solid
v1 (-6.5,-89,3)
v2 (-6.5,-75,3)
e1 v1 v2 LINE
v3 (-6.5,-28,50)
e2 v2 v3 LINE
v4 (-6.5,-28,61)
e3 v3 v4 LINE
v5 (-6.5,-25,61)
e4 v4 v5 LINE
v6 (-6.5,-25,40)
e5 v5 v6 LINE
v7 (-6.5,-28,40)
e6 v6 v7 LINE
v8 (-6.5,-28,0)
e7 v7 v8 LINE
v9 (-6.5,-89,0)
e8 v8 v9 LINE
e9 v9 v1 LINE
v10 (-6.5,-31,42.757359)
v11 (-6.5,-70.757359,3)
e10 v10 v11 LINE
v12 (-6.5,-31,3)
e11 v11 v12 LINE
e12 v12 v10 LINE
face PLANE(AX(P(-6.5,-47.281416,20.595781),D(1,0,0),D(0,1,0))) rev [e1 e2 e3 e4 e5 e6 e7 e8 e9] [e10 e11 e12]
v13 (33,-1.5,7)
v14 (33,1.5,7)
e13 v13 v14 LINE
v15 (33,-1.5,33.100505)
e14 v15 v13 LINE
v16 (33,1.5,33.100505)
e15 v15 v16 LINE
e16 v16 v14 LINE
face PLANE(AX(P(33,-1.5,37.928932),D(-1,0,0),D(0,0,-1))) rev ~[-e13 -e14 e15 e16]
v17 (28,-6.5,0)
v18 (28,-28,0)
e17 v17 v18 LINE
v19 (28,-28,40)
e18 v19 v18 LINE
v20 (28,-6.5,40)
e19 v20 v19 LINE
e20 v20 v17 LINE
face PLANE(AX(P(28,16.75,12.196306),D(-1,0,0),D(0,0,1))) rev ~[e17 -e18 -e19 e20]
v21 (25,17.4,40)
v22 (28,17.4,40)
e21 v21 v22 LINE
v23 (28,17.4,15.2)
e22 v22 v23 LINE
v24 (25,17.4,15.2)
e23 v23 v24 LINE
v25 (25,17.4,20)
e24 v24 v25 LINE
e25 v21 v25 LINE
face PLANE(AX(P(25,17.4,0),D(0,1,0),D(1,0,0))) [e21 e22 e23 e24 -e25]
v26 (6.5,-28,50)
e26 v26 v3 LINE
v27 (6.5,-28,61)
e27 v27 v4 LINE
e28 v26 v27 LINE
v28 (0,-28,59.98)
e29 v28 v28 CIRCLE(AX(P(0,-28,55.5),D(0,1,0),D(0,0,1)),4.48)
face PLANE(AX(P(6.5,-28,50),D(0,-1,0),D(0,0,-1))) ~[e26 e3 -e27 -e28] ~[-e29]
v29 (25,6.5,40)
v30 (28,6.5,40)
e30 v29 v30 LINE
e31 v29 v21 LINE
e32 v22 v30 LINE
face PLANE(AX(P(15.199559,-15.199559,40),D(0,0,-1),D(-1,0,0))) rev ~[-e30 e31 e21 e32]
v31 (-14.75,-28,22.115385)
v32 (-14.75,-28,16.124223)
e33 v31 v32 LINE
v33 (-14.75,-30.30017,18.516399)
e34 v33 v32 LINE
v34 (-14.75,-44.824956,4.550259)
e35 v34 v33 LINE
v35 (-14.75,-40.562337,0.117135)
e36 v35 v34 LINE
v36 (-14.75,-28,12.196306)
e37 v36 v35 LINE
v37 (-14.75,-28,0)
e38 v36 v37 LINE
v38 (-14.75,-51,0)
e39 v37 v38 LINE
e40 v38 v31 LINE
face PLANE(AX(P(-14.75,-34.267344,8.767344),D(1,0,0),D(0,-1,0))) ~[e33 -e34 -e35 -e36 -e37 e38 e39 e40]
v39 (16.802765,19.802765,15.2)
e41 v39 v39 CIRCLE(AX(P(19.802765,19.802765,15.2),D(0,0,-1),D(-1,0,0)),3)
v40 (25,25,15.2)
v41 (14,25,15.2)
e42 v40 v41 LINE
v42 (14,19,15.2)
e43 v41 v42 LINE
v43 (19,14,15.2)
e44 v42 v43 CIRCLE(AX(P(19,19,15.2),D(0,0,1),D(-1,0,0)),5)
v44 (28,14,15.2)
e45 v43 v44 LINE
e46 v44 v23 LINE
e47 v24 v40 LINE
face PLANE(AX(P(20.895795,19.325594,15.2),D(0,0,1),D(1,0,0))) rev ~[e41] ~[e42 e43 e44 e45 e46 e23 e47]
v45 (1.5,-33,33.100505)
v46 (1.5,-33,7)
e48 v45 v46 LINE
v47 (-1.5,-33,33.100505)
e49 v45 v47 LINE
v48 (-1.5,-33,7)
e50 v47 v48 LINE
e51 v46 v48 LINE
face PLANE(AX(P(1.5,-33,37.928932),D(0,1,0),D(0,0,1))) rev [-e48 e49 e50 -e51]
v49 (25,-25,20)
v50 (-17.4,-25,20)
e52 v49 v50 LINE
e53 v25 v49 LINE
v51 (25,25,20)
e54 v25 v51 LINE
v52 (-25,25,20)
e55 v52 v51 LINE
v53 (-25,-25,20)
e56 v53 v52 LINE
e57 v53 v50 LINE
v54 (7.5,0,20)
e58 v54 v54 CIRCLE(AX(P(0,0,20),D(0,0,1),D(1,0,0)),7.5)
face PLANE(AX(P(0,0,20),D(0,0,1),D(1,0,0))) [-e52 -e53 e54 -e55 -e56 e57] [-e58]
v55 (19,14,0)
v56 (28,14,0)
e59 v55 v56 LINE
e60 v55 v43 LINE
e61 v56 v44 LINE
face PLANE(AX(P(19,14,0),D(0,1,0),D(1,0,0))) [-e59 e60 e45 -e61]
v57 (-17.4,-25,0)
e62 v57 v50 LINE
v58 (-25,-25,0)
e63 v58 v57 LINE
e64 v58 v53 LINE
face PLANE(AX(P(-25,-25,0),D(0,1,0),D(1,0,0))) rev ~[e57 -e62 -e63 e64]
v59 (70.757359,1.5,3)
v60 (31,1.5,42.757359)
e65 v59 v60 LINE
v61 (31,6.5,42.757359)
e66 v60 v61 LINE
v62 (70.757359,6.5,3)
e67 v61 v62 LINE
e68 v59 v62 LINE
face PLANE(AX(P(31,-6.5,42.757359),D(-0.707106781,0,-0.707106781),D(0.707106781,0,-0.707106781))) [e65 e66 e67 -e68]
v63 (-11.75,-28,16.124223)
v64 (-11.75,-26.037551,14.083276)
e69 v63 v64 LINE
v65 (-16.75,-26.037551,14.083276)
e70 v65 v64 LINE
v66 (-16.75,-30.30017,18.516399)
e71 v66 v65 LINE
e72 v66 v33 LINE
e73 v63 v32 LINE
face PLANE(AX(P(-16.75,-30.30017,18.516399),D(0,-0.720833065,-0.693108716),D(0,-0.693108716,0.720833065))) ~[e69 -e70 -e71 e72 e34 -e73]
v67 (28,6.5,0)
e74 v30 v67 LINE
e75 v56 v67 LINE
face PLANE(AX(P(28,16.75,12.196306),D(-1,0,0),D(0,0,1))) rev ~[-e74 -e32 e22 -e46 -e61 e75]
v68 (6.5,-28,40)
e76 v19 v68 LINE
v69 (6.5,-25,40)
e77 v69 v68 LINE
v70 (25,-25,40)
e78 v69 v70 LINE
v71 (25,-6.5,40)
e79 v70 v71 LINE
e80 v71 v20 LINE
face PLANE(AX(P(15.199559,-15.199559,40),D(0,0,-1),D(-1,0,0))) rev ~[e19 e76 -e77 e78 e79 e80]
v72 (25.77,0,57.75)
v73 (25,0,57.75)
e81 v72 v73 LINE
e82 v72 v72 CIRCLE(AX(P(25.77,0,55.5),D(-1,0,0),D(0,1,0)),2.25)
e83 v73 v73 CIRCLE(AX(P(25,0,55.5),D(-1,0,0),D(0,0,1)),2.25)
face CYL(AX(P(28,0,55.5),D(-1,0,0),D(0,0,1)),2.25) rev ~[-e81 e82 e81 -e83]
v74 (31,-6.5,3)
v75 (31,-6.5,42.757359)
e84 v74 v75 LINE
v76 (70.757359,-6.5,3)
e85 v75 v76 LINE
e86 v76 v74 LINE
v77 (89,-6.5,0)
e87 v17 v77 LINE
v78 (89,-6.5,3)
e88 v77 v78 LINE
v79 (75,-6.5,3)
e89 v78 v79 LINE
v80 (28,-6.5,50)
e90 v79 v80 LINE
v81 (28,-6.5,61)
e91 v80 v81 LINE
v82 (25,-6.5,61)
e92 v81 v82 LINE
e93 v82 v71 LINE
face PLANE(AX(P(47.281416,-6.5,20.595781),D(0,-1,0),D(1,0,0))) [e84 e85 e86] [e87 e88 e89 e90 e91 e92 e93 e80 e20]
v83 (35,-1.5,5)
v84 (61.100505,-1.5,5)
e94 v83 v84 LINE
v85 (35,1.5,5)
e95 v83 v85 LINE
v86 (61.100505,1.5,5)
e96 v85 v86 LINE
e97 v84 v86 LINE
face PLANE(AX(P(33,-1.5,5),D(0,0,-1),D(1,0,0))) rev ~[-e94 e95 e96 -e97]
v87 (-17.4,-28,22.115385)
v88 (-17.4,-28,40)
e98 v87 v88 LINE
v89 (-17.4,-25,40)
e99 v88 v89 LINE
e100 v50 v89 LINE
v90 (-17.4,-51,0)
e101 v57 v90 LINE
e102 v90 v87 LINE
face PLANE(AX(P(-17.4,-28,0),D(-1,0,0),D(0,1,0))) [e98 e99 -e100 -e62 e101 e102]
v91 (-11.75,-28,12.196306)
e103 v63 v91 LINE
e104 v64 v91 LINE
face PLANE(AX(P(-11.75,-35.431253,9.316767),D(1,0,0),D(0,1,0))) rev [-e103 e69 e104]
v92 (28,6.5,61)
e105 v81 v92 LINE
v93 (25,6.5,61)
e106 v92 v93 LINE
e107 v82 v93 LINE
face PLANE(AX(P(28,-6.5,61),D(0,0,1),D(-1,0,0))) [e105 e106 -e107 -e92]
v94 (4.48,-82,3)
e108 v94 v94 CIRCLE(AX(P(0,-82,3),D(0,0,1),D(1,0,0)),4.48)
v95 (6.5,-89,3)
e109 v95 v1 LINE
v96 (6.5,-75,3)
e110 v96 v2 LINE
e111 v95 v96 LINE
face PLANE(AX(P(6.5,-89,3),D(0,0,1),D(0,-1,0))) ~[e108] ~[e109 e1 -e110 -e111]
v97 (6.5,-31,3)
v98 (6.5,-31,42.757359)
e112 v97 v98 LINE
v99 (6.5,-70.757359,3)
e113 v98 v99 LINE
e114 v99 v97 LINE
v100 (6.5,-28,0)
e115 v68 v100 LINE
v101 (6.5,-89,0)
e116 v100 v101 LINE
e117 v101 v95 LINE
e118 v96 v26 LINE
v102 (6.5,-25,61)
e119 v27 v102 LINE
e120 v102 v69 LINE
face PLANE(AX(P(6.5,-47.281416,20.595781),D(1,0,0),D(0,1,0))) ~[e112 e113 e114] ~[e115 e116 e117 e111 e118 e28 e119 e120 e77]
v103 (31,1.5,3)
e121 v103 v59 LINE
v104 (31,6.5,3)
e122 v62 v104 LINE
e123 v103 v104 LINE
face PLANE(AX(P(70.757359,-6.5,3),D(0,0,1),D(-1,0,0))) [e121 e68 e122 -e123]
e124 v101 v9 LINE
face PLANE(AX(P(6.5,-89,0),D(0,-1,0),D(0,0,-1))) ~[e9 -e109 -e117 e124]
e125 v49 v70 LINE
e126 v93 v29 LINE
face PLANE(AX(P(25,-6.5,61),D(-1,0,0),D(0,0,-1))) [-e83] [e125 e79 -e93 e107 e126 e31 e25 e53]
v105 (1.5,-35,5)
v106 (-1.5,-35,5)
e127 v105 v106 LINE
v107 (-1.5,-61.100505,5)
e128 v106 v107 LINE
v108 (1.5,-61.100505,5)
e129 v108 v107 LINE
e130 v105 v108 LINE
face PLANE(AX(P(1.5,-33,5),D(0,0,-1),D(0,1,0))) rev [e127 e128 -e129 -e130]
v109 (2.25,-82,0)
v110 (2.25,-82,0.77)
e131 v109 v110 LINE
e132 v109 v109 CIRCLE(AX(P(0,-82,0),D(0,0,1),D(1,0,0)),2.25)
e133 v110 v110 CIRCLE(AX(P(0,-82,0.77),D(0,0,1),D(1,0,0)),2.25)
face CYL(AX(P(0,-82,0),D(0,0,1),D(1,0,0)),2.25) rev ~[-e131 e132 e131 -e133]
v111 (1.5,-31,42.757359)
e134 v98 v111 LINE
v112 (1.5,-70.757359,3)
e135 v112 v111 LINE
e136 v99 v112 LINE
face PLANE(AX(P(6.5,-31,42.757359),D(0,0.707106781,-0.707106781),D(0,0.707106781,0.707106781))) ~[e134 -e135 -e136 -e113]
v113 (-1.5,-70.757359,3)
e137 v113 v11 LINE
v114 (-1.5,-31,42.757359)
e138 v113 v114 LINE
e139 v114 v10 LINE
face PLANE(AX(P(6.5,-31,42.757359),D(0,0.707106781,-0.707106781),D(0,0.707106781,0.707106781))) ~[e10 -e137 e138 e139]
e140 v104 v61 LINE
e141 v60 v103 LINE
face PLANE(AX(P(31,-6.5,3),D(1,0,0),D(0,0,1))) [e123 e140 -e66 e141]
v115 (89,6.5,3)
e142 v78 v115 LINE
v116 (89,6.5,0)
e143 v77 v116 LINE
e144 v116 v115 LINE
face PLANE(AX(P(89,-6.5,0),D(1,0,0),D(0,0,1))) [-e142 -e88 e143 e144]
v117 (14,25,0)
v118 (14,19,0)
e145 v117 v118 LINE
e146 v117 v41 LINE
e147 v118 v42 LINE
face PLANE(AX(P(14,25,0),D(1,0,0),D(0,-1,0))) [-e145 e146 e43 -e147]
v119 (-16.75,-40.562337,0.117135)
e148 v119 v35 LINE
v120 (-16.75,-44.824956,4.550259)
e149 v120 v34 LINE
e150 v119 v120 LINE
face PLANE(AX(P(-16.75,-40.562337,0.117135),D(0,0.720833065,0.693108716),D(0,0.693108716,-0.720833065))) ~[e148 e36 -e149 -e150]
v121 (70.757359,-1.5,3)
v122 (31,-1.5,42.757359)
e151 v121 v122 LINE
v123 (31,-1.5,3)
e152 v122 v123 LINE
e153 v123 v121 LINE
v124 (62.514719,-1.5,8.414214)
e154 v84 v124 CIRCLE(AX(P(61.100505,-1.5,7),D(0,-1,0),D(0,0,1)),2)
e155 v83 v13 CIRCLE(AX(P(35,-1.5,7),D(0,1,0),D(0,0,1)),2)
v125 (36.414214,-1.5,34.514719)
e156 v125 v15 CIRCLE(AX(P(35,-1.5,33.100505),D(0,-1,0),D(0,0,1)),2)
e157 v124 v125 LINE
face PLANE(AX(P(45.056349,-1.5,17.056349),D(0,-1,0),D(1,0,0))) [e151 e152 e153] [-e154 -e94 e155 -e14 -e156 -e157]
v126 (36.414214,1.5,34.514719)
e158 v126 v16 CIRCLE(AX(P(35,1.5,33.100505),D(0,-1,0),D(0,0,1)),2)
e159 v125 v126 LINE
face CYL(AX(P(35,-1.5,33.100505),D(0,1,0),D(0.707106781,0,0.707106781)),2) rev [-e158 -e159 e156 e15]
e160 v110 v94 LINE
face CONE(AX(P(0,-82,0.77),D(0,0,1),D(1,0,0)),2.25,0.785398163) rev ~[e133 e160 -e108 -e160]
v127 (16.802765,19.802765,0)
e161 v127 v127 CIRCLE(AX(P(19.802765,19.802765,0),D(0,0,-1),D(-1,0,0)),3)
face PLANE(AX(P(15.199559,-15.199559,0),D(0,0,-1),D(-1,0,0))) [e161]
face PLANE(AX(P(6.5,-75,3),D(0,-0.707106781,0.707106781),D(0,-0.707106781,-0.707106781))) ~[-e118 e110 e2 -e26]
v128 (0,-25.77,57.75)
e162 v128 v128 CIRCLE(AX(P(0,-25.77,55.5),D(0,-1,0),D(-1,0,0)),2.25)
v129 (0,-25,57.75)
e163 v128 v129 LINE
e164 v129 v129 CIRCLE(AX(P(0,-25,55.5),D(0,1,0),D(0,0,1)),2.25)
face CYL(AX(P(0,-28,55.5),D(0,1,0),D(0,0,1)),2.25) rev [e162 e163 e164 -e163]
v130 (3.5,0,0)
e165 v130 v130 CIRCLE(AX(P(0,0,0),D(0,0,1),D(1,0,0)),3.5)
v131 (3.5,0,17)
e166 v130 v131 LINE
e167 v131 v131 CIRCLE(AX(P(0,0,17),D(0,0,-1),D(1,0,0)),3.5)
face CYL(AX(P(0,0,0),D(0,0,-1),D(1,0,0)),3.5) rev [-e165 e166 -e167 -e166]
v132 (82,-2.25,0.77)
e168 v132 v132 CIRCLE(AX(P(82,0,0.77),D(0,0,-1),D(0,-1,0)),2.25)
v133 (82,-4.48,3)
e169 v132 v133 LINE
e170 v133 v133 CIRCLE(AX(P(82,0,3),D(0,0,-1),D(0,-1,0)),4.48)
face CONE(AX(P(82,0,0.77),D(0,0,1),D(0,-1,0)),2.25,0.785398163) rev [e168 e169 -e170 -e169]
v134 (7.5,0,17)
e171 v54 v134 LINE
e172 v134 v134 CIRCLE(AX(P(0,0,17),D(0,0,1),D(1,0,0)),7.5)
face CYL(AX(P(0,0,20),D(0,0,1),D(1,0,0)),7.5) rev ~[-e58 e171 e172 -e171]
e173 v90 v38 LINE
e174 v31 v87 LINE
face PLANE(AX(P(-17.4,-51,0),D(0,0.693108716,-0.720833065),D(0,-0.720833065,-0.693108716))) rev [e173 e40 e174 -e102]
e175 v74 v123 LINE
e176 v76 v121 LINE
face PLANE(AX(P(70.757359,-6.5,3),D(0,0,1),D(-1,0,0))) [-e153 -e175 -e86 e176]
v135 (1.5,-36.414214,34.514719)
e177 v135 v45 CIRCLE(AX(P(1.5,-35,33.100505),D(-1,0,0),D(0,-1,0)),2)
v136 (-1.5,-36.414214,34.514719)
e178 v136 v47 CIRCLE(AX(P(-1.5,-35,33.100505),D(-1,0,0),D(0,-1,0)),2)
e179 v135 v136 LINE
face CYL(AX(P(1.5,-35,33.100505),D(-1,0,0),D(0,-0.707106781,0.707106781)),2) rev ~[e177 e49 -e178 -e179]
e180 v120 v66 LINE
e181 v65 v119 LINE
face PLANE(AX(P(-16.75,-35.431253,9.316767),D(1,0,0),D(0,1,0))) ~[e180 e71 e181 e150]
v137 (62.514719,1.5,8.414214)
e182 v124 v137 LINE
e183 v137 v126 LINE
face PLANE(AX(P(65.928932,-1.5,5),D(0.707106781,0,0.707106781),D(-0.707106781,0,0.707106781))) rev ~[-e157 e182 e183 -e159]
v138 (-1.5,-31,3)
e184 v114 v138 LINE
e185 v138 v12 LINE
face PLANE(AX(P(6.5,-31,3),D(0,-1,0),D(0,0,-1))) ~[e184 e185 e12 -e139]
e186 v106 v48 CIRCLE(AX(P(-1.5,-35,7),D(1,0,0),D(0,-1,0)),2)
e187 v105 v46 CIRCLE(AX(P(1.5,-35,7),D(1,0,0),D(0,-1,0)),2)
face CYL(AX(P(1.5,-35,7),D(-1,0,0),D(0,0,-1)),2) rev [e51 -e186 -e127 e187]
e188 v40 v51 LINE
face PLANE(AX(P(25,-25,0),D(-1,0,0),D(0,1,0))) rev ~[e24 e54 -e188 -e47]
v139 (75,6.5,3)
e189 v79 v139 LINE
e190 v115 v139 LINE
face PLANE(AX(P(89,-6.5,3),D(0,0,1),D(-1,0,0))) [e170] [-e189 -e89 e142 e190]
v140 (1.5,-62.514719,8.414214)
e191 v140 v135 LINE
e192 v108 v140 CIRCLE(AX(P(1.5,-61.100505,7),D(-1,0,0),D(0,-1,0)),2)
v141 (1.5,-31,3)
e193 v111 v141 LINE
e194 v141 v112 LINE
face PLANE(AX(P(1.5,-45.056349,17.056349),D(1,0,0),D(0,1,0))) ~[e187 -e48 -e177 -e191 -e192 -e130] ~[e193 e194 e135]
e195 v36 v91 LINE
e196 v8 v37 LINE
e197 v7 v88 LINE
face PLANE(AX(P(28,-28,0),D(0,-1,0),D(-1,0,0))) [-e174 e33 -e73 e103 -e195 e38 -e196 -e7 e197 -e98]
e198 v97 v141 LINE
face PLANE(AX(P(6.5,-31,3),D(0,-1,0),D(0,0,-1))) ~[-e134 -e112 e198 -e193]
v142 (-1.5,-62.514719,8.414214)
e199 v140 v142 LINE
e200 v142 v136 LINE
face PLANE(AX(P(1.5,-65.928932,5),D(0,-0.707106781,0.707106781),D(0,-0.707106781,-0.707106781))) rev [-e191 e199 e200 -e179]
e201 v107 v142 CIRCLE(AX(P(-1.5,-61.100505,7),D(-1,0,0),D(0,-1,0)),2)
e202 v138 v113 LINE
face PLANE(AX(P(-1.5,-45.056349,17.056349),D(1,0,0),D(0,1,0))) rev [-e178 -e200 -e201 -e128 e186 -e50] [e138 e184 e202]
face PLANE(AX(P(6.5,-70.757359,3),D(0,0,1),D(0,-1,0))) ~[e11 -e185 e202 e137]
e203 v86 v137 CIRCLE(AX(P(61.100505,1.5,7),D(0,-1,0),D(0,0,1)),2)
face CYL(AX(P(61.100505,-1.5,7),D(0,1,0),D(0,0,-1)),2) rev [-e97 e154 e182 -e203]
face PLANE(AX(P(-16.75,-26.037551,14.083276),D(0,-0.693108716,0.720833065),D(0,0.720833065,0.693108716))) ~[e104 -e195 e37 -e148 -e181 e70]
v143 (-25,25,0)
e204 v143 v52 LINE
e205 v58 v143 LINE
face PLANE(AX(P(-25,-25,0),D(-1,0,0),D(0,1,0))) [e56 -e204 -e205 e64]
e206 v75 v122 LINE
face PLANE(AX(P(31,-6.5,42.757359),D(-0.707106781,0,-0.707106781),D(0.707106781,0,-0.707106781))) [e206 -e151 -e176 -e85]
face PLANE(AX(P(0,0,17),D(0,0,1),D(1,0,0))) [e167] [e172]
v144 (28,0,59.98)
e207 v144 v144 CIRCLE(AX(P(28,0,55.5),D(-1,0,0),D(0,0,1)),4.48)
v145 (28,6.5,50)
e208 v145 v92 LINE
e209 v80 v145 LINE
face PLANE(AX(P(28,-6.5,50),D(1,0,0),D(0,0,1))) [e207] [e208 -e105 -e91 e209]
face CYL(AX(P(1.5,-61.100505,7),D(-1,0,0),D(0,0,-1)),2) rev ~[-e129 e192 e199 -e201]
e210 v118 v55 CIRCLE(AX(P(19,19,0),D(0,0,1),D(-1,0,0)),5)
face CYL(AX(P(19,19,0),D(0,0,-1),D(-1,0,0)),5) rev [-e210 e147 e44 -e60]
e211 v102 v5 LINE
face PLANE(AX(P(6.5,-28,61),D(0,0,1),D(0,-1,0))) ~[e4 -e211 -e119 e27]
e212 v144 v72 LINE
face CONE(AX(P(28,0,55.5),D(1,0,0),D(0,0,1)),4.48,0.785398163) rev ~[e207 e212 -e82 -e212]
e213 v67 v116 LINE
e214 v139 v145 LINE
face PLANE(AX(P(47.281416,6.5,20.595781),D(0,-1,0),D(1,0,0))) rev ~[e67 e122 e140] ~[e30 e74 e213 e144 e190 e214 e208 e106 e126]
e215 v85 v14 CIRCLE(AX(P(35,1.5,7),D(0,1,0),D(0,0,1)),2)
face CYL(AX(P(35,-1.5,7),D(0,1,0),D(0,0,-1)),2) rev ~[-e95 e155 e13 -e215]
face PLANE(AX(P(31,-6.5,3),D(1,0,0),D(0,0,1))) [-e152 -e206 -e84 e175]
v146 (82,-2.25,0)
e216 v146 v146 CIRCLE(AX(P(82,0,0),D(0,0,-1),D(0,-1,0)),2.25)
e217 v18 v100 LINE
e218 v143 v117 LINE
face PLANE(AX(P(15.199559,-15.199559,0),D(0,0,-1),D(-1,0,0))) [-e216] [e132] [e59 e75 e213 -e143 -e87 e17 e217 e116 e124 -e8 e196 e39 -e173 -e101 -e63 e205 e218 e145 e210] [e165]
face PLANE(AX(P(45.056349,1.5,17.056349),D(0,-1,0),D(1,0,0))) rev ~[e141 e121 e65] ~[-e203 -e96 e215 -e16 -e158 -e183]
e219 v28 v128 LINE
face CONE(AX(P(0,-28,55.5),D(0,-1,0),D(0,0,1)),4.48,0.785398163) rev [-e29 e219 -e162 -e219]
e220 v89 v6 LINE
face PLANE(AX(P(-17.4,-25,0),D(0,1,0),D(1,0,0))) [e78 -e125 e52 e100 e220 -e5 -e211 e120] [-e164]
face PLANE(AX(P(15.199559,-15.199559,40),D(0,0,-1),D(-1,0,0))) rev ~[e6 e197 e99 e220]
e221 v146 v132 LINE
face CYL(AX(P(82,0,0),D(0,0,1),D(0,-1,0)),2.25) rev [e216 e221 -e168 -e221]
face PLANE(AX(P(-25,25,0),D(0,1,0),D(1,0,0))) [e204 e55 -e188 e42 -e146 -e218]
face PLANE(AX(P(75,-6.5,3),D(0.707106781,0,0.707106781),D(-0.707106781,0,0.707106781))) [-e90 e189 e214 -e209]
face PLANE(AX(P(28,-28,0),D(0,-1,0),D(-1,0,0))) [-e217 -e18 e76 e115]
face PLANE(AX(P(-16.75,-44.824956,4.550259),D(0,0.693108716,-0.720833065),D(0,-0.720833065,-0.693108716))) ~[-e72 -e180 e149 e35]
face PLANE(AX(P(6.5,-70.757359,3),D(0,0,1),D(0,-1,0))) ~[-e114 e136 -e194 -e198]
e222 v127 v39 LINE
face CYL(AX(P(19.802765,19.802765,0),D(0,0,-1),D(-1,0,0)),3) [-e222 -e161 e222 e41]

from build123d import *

# Parameters (mm, degrees)
CROQUIS2_W                                           = 50
CROQUIS2_H                                           = 50
CROQUIS2_R                                           = 3.5
SALIENTE_EXTRUIR2_DEPTH                              = 20
CROQUIS3_R                                           = 7.5
CORTAR_EXTRUIR1_DEPTH                                = 3
SALIENTE_EXTRUIR3_DEPTH                              = 40
SALIENTE_EXTRUIR4_DEPTH                              = 2.65
CORTAR_EXTRUIR2_START                                = -2
CORTAR_EXTRUIR2_DEPTH                                = 5
CORTAR_EXTRUIR5_START                                = -2.65
CORTAR_EXTRUIR5_DEPTH                                = 2.65
SALIENTE_EXTRUIR5_DEPTH                              = 44.75
CROQUIS13_R                                          = 3
CORTAR_EXTRUIR6_DEPTH                                = 15.2
SALIENTE_EXTRUIR6_START                              = -21.5
SALIENTE_EXTRUIR6_DEPTH                              = 13
SALIENTE_EXTRUIR7_START                              = -5
SALIENTE_EXTRUIR7_DEPTH                              = 3
REDONDEO1_R                                          = 2
CROQUIS17_R                                          = 2
CORTAR_EXTRUIR7_DEPTH                                = 3
CROQUIS18_R                                          = 2
CORTAR_EXTRUIR8_DEPTH                                = 3
REFRENTADO_PARA_TORNILLO_TAP_N_CON_CABEZ_D           = 4.5
REFRENTADO_PARA_TORNILLO_TAP_N_CON_CABEZ_CSINK_D     = 8.96
REFRENTADO_PARA_TORNILLO_TAP_N_CON_CABEZ_CSINK_ANGLE = 90
REDONDEO1_OF_SIMETR_A3_R                             = 2


with BuildPart() as part:
    # Croquis2 → Saliente-Extruir2 (new body)
    with BuildSketch(Plane.XY):
        Rectangle(CROQUIS2_W, CROQUIS2_H)
        Circle(CROQUIS2_R, mode=Mode.SUBTRACT)
    extrude(amount=SALIENTE_EXTRUIR2_DEPTH)

    # Croquis3 → Cortar-Extruir1 (cut)
    with BuildSketch(Plane.XY.offset(20)):
        Circle(CROQUIS3_R)
    extrude(amount=-CORTAR_EXTRUIR1_DEPTH, mode=Mode.SUBTRACT)

    # Croquis4 → Saliente-Extruir3 (add)
    with BuildSketch(Plane(origin=(0, 0, 0), x_dir=(-1, 0, 0), z_dir=(0, 0, -1))):
        Polygon((-25, -25), (-25, 17.4), (-28, 17.4), (-28, -28), (17.4, -28), (17.4, -25), align=None)
    extrude(amount=-SALIENTE_EXTRUIR3_DEPTH)

    # Croquis5 → Saliente-Extruir4 (add)
    with BuildSketch(Plane(origin=(0, 17.4, 0), x_dir=(1, 0, 0), z_dir=(0, 1, 0))):
        Polygon((25, 0), (51, 0), (25, -25), align=None)
    saliente_extruir4 = extrude(amount=-SALIENTE_EXTRUIR4_DEPTH)

    # Croquis6 → Cortar-Extruir2 (cut)
    with BuildSketch(Plane.XZ.offset(-14.75).offset(CORTAR_EXTRUIR2_START)):
        Polygon((44.824955825, 4.550258722), (30.300169567, 18.516399355), (26.037550962, 14.083276006), (40.56233722, 0.117135373), align=None)
    cortar_extruir2 = extrude(amount=CORTAR_EXTRUIR2_DEPTH, mode=Mode.SUBTRACT)

    # Simetría2: Saliente-Extruir4, Cortar-Extruir2 across plane
    add(saliente_extruir4.mirror(Plane(origin=(0, 0, 0), x_dir=(0, 0, 1), z_dir=(0.707106781, 0.707106781, 0))))
    add(cortar_extruir2.mirror(Plane(origin=(0, 0, 0), x_dir=(0, 0, 1), z_dir=(0.707106781, 0.707106781, 0))), mode=Mode.SUBTRACT)

    # Croquis11 → Cortar-Extruir5 (cut)
    with BuildSketch(Plane.XZ.offset(-14.75).offset(CORTAR_EXTRUIR5_START)):
        Polygon((28, 0), (51, 0), (28, 22.115384615), align=None)
    extrude(amount=CORTAR_EXTRUIR5_DEPTH, mode=Mode.SUBTRACT)

    # Croquis14 → Saliente-Extruir5 (add)
    with BuildSketch(Plane.XZ.offset(-16.75)):
        Polygon((26.037550962, 14.083276006), (28, 12.196305777), (28, 16.124223005), align=None)
    extrude(amount=SALIENTE_EXTRUIR5_DEPTH)

    # Croquis13 → Cortar-Extruir6 (cut)
    with BuildSketch(Plane(origin=(0, 0, 0), x_dir=(-1, 0, 0), z_dir=(0, 0, -1))):
        with BuildLine():
            Line((-25, 25), (-14, 25))
            Line((-14, 25), (-14, 19))
            ThreePointArc((-14, 19), (-15.464466094, 15.464466094), (-19, 14))
            Line((-19, 14), (-25, 14))
            Line((-25, 14), (-28, 14))
            Line((-28, 14), (-28, 17.4))
            Line((-28, 17.4), (-25, 17.4))
            Line((-25, 17.4), (-25, 25))
        make_face()
        with Locations((-19.802765158, 19.802765158)):
            Circle(CROQUIS13_R, mode=Mode.SUBTRACT)
    extrude(amount=-CORTAR_EXTRUIR6_DEPTH, mode=Mode.SUBTRACT)

    # Croquis15 → Saliente-Extruir6 (add)
    with BuildSketch(Plane.XZ.offset(28).offset(SALIENTE_EXTRUIR6_START)):
        Polygon((28, 0), (78, 0), (89, 0), (89, 3), (75, 3), (28, 50), (28, 61), (25, 61), (25, 40), (28, 40), align=None)
        Polygon((31, 42.757359313), (70.757359313, 3), (31, 3), align=None, mode=Mode.SUBTRACT)
    saliente_extruir6 = extrude(amount=-SALIENTE_EXTRUIR6_DEPTH)

    # Croquis16 → Saliente-Extruir7 (add)
    with BuildSketch(Plane.XZ.offset(6.5).offset(SALIENTE_EXTRUIR7_START)):
        Polygon((31, 3), (70.757359313, 3), (31, 42.757359313), align=None)
        Polygon((33, 5), (65.928932188, 5), (33, 37.928932188), align=None, mode=Mode.SUBTRACT)
    saliente_extruir7 = extrude(amount=-SALIENTE_EXTRUIR7_DEPTH)

    # Redondeo1
    redondeo1_edges = [part.edges().sort_by_distance(p)[0] for p in [
        (33, 0, 37.928932188),
        (65.928932188, 0, 5),
        (33, 0, 5),
    ]]
    fillet(redondeo1_edges, radius=REDONDEO1_R)

    # Croquis17 → Cortar-Extruir7 (cut)
    with BuildSketch(Plane.XY.offset(3)):
        with Locations((82, 0)):
            Circle(CROQUIS17_R)
    cortar_extruir7 = extrude(amount=-CORTAR_EXTRUIR7_DEPTH, mode=Mode.SUBTRACT)

    # Croquis18 → Cortar-Extruir8 (cut)
    with BuildSketch(Plane(origin=(28, 0, 0), x_dir=(0, 0, -1), z_dir=(1, 0, 0))):
        with Locations((-55.5, 0)):
            Circle(CROQUIS18_R)
    cortar_extruir8 = extrude(amount=-CORTAR_EXTRUIR8_DEPTH, mode=Mode.SUBTRACT)

    # Refrentado para tornillo tap_n con cabez (through all)
    with Locations(Plane(origin=(28, 0, 0), x_dir=(0, 0, -1), z_dir=(1, 0, 0))):
        with Locations((-55.5, 0)):
            refrentado_para_tornillo_tap_n_con_cabez = CounterSinkHole(REFRENTADO_PARA_TORNILLO_TAP_N_CON_CABEZ_D / 2, REFRENTADO_PARA_TORNILLO_TAP_N_CON_CABEZ_CSINK_D / 2, counter_sink_angle=REFRENTADO_PARA_TORNILLO_TAP_N_CON_CABEZ_CSINK_ANGLE)

    # Croquis22 → Refrentado para tornillo tap_n con c 2 (revolve, cut)
    with BuildSketch(Plane(origin=(82, 0, 3), x_dir=(0, -1, 0), z_dir=(1, 0, 0))):
        Polygon((0, 0), (0, 3), (2.25, 3), (2.25, 2.23), (4.48, 0), align=None)
    refrentado_para_tornillo_tap_n_con_c_2 = revolve(axis=Axis((82, 0, 9.35), (0, 0, -1)), mode=Mode.SUBTRACT)

    # Simetría3: Saliente-Extruir6, Saliente-Extruir7, Cortar-Extruir7, Cortar-Extruir8, Refrentado para tornillo tap_n con cabez, Refrentado para tornillo tap_n con c 2 across plane
    add(saliente_extruir6.mirror(Plane(origin=(0, 0, 0), x_dir=(0, 0, 1), z_dir=(0.707106781, 0.707106781, 0))))
    add(saliente_extruir7.mirror(Plane(origin=(0, 0, 0), x_dir=(0, 0, 1), z_dir=(0.707106781, 0.707106781, 0))))
    add(cortar_extruir7.mirror(Plane(origin=(0, 0, 0), x_dir=(0, 0, 1), z_dir=(0.707106781, 0.707106781, 0))), mode=Mode.SUBTRACT)
    add(cortar_extruir8.mirror(Plane(origin=(0, 0, 0), x_dir=(0, 0, 1), z_dir=(0.707106781, 0.707106781, 0))), mode=Mode.SUBTRACT)
    add(refrentado_para_tornillo_tap_n_con_cabez.mirror(Plane(origin=(0, 0, 0), x_dir=(0, 0, 1), z_dir=(0.707106781, 0.707106781, 0))), mode=Mode.SUBTRACT)
    add(refrentado_para_tornillo_tap_n_con_c_2.mirror(Plane(origin=(0, 0, 0), x_dir=(0, 0, 1), z_dir=(0.707106781, 0.707106781, 0))), mode=Mode.SUBTRACT)

    # Redondeo1 of Simetría3
    redondeo1_of_simetr_a3_edges = [part.edges().sort_by_distance(p)[0] for p in [
        (0, -33, 37.928932188),
        (0, -65.928932188, 5),
        (0, -33, 5),
    ]]
    fillet(redondeo1_of_simetr_a3_edges, radius=REDONDEO1_OF_SIMETR_A3_R)


solid = part.part
